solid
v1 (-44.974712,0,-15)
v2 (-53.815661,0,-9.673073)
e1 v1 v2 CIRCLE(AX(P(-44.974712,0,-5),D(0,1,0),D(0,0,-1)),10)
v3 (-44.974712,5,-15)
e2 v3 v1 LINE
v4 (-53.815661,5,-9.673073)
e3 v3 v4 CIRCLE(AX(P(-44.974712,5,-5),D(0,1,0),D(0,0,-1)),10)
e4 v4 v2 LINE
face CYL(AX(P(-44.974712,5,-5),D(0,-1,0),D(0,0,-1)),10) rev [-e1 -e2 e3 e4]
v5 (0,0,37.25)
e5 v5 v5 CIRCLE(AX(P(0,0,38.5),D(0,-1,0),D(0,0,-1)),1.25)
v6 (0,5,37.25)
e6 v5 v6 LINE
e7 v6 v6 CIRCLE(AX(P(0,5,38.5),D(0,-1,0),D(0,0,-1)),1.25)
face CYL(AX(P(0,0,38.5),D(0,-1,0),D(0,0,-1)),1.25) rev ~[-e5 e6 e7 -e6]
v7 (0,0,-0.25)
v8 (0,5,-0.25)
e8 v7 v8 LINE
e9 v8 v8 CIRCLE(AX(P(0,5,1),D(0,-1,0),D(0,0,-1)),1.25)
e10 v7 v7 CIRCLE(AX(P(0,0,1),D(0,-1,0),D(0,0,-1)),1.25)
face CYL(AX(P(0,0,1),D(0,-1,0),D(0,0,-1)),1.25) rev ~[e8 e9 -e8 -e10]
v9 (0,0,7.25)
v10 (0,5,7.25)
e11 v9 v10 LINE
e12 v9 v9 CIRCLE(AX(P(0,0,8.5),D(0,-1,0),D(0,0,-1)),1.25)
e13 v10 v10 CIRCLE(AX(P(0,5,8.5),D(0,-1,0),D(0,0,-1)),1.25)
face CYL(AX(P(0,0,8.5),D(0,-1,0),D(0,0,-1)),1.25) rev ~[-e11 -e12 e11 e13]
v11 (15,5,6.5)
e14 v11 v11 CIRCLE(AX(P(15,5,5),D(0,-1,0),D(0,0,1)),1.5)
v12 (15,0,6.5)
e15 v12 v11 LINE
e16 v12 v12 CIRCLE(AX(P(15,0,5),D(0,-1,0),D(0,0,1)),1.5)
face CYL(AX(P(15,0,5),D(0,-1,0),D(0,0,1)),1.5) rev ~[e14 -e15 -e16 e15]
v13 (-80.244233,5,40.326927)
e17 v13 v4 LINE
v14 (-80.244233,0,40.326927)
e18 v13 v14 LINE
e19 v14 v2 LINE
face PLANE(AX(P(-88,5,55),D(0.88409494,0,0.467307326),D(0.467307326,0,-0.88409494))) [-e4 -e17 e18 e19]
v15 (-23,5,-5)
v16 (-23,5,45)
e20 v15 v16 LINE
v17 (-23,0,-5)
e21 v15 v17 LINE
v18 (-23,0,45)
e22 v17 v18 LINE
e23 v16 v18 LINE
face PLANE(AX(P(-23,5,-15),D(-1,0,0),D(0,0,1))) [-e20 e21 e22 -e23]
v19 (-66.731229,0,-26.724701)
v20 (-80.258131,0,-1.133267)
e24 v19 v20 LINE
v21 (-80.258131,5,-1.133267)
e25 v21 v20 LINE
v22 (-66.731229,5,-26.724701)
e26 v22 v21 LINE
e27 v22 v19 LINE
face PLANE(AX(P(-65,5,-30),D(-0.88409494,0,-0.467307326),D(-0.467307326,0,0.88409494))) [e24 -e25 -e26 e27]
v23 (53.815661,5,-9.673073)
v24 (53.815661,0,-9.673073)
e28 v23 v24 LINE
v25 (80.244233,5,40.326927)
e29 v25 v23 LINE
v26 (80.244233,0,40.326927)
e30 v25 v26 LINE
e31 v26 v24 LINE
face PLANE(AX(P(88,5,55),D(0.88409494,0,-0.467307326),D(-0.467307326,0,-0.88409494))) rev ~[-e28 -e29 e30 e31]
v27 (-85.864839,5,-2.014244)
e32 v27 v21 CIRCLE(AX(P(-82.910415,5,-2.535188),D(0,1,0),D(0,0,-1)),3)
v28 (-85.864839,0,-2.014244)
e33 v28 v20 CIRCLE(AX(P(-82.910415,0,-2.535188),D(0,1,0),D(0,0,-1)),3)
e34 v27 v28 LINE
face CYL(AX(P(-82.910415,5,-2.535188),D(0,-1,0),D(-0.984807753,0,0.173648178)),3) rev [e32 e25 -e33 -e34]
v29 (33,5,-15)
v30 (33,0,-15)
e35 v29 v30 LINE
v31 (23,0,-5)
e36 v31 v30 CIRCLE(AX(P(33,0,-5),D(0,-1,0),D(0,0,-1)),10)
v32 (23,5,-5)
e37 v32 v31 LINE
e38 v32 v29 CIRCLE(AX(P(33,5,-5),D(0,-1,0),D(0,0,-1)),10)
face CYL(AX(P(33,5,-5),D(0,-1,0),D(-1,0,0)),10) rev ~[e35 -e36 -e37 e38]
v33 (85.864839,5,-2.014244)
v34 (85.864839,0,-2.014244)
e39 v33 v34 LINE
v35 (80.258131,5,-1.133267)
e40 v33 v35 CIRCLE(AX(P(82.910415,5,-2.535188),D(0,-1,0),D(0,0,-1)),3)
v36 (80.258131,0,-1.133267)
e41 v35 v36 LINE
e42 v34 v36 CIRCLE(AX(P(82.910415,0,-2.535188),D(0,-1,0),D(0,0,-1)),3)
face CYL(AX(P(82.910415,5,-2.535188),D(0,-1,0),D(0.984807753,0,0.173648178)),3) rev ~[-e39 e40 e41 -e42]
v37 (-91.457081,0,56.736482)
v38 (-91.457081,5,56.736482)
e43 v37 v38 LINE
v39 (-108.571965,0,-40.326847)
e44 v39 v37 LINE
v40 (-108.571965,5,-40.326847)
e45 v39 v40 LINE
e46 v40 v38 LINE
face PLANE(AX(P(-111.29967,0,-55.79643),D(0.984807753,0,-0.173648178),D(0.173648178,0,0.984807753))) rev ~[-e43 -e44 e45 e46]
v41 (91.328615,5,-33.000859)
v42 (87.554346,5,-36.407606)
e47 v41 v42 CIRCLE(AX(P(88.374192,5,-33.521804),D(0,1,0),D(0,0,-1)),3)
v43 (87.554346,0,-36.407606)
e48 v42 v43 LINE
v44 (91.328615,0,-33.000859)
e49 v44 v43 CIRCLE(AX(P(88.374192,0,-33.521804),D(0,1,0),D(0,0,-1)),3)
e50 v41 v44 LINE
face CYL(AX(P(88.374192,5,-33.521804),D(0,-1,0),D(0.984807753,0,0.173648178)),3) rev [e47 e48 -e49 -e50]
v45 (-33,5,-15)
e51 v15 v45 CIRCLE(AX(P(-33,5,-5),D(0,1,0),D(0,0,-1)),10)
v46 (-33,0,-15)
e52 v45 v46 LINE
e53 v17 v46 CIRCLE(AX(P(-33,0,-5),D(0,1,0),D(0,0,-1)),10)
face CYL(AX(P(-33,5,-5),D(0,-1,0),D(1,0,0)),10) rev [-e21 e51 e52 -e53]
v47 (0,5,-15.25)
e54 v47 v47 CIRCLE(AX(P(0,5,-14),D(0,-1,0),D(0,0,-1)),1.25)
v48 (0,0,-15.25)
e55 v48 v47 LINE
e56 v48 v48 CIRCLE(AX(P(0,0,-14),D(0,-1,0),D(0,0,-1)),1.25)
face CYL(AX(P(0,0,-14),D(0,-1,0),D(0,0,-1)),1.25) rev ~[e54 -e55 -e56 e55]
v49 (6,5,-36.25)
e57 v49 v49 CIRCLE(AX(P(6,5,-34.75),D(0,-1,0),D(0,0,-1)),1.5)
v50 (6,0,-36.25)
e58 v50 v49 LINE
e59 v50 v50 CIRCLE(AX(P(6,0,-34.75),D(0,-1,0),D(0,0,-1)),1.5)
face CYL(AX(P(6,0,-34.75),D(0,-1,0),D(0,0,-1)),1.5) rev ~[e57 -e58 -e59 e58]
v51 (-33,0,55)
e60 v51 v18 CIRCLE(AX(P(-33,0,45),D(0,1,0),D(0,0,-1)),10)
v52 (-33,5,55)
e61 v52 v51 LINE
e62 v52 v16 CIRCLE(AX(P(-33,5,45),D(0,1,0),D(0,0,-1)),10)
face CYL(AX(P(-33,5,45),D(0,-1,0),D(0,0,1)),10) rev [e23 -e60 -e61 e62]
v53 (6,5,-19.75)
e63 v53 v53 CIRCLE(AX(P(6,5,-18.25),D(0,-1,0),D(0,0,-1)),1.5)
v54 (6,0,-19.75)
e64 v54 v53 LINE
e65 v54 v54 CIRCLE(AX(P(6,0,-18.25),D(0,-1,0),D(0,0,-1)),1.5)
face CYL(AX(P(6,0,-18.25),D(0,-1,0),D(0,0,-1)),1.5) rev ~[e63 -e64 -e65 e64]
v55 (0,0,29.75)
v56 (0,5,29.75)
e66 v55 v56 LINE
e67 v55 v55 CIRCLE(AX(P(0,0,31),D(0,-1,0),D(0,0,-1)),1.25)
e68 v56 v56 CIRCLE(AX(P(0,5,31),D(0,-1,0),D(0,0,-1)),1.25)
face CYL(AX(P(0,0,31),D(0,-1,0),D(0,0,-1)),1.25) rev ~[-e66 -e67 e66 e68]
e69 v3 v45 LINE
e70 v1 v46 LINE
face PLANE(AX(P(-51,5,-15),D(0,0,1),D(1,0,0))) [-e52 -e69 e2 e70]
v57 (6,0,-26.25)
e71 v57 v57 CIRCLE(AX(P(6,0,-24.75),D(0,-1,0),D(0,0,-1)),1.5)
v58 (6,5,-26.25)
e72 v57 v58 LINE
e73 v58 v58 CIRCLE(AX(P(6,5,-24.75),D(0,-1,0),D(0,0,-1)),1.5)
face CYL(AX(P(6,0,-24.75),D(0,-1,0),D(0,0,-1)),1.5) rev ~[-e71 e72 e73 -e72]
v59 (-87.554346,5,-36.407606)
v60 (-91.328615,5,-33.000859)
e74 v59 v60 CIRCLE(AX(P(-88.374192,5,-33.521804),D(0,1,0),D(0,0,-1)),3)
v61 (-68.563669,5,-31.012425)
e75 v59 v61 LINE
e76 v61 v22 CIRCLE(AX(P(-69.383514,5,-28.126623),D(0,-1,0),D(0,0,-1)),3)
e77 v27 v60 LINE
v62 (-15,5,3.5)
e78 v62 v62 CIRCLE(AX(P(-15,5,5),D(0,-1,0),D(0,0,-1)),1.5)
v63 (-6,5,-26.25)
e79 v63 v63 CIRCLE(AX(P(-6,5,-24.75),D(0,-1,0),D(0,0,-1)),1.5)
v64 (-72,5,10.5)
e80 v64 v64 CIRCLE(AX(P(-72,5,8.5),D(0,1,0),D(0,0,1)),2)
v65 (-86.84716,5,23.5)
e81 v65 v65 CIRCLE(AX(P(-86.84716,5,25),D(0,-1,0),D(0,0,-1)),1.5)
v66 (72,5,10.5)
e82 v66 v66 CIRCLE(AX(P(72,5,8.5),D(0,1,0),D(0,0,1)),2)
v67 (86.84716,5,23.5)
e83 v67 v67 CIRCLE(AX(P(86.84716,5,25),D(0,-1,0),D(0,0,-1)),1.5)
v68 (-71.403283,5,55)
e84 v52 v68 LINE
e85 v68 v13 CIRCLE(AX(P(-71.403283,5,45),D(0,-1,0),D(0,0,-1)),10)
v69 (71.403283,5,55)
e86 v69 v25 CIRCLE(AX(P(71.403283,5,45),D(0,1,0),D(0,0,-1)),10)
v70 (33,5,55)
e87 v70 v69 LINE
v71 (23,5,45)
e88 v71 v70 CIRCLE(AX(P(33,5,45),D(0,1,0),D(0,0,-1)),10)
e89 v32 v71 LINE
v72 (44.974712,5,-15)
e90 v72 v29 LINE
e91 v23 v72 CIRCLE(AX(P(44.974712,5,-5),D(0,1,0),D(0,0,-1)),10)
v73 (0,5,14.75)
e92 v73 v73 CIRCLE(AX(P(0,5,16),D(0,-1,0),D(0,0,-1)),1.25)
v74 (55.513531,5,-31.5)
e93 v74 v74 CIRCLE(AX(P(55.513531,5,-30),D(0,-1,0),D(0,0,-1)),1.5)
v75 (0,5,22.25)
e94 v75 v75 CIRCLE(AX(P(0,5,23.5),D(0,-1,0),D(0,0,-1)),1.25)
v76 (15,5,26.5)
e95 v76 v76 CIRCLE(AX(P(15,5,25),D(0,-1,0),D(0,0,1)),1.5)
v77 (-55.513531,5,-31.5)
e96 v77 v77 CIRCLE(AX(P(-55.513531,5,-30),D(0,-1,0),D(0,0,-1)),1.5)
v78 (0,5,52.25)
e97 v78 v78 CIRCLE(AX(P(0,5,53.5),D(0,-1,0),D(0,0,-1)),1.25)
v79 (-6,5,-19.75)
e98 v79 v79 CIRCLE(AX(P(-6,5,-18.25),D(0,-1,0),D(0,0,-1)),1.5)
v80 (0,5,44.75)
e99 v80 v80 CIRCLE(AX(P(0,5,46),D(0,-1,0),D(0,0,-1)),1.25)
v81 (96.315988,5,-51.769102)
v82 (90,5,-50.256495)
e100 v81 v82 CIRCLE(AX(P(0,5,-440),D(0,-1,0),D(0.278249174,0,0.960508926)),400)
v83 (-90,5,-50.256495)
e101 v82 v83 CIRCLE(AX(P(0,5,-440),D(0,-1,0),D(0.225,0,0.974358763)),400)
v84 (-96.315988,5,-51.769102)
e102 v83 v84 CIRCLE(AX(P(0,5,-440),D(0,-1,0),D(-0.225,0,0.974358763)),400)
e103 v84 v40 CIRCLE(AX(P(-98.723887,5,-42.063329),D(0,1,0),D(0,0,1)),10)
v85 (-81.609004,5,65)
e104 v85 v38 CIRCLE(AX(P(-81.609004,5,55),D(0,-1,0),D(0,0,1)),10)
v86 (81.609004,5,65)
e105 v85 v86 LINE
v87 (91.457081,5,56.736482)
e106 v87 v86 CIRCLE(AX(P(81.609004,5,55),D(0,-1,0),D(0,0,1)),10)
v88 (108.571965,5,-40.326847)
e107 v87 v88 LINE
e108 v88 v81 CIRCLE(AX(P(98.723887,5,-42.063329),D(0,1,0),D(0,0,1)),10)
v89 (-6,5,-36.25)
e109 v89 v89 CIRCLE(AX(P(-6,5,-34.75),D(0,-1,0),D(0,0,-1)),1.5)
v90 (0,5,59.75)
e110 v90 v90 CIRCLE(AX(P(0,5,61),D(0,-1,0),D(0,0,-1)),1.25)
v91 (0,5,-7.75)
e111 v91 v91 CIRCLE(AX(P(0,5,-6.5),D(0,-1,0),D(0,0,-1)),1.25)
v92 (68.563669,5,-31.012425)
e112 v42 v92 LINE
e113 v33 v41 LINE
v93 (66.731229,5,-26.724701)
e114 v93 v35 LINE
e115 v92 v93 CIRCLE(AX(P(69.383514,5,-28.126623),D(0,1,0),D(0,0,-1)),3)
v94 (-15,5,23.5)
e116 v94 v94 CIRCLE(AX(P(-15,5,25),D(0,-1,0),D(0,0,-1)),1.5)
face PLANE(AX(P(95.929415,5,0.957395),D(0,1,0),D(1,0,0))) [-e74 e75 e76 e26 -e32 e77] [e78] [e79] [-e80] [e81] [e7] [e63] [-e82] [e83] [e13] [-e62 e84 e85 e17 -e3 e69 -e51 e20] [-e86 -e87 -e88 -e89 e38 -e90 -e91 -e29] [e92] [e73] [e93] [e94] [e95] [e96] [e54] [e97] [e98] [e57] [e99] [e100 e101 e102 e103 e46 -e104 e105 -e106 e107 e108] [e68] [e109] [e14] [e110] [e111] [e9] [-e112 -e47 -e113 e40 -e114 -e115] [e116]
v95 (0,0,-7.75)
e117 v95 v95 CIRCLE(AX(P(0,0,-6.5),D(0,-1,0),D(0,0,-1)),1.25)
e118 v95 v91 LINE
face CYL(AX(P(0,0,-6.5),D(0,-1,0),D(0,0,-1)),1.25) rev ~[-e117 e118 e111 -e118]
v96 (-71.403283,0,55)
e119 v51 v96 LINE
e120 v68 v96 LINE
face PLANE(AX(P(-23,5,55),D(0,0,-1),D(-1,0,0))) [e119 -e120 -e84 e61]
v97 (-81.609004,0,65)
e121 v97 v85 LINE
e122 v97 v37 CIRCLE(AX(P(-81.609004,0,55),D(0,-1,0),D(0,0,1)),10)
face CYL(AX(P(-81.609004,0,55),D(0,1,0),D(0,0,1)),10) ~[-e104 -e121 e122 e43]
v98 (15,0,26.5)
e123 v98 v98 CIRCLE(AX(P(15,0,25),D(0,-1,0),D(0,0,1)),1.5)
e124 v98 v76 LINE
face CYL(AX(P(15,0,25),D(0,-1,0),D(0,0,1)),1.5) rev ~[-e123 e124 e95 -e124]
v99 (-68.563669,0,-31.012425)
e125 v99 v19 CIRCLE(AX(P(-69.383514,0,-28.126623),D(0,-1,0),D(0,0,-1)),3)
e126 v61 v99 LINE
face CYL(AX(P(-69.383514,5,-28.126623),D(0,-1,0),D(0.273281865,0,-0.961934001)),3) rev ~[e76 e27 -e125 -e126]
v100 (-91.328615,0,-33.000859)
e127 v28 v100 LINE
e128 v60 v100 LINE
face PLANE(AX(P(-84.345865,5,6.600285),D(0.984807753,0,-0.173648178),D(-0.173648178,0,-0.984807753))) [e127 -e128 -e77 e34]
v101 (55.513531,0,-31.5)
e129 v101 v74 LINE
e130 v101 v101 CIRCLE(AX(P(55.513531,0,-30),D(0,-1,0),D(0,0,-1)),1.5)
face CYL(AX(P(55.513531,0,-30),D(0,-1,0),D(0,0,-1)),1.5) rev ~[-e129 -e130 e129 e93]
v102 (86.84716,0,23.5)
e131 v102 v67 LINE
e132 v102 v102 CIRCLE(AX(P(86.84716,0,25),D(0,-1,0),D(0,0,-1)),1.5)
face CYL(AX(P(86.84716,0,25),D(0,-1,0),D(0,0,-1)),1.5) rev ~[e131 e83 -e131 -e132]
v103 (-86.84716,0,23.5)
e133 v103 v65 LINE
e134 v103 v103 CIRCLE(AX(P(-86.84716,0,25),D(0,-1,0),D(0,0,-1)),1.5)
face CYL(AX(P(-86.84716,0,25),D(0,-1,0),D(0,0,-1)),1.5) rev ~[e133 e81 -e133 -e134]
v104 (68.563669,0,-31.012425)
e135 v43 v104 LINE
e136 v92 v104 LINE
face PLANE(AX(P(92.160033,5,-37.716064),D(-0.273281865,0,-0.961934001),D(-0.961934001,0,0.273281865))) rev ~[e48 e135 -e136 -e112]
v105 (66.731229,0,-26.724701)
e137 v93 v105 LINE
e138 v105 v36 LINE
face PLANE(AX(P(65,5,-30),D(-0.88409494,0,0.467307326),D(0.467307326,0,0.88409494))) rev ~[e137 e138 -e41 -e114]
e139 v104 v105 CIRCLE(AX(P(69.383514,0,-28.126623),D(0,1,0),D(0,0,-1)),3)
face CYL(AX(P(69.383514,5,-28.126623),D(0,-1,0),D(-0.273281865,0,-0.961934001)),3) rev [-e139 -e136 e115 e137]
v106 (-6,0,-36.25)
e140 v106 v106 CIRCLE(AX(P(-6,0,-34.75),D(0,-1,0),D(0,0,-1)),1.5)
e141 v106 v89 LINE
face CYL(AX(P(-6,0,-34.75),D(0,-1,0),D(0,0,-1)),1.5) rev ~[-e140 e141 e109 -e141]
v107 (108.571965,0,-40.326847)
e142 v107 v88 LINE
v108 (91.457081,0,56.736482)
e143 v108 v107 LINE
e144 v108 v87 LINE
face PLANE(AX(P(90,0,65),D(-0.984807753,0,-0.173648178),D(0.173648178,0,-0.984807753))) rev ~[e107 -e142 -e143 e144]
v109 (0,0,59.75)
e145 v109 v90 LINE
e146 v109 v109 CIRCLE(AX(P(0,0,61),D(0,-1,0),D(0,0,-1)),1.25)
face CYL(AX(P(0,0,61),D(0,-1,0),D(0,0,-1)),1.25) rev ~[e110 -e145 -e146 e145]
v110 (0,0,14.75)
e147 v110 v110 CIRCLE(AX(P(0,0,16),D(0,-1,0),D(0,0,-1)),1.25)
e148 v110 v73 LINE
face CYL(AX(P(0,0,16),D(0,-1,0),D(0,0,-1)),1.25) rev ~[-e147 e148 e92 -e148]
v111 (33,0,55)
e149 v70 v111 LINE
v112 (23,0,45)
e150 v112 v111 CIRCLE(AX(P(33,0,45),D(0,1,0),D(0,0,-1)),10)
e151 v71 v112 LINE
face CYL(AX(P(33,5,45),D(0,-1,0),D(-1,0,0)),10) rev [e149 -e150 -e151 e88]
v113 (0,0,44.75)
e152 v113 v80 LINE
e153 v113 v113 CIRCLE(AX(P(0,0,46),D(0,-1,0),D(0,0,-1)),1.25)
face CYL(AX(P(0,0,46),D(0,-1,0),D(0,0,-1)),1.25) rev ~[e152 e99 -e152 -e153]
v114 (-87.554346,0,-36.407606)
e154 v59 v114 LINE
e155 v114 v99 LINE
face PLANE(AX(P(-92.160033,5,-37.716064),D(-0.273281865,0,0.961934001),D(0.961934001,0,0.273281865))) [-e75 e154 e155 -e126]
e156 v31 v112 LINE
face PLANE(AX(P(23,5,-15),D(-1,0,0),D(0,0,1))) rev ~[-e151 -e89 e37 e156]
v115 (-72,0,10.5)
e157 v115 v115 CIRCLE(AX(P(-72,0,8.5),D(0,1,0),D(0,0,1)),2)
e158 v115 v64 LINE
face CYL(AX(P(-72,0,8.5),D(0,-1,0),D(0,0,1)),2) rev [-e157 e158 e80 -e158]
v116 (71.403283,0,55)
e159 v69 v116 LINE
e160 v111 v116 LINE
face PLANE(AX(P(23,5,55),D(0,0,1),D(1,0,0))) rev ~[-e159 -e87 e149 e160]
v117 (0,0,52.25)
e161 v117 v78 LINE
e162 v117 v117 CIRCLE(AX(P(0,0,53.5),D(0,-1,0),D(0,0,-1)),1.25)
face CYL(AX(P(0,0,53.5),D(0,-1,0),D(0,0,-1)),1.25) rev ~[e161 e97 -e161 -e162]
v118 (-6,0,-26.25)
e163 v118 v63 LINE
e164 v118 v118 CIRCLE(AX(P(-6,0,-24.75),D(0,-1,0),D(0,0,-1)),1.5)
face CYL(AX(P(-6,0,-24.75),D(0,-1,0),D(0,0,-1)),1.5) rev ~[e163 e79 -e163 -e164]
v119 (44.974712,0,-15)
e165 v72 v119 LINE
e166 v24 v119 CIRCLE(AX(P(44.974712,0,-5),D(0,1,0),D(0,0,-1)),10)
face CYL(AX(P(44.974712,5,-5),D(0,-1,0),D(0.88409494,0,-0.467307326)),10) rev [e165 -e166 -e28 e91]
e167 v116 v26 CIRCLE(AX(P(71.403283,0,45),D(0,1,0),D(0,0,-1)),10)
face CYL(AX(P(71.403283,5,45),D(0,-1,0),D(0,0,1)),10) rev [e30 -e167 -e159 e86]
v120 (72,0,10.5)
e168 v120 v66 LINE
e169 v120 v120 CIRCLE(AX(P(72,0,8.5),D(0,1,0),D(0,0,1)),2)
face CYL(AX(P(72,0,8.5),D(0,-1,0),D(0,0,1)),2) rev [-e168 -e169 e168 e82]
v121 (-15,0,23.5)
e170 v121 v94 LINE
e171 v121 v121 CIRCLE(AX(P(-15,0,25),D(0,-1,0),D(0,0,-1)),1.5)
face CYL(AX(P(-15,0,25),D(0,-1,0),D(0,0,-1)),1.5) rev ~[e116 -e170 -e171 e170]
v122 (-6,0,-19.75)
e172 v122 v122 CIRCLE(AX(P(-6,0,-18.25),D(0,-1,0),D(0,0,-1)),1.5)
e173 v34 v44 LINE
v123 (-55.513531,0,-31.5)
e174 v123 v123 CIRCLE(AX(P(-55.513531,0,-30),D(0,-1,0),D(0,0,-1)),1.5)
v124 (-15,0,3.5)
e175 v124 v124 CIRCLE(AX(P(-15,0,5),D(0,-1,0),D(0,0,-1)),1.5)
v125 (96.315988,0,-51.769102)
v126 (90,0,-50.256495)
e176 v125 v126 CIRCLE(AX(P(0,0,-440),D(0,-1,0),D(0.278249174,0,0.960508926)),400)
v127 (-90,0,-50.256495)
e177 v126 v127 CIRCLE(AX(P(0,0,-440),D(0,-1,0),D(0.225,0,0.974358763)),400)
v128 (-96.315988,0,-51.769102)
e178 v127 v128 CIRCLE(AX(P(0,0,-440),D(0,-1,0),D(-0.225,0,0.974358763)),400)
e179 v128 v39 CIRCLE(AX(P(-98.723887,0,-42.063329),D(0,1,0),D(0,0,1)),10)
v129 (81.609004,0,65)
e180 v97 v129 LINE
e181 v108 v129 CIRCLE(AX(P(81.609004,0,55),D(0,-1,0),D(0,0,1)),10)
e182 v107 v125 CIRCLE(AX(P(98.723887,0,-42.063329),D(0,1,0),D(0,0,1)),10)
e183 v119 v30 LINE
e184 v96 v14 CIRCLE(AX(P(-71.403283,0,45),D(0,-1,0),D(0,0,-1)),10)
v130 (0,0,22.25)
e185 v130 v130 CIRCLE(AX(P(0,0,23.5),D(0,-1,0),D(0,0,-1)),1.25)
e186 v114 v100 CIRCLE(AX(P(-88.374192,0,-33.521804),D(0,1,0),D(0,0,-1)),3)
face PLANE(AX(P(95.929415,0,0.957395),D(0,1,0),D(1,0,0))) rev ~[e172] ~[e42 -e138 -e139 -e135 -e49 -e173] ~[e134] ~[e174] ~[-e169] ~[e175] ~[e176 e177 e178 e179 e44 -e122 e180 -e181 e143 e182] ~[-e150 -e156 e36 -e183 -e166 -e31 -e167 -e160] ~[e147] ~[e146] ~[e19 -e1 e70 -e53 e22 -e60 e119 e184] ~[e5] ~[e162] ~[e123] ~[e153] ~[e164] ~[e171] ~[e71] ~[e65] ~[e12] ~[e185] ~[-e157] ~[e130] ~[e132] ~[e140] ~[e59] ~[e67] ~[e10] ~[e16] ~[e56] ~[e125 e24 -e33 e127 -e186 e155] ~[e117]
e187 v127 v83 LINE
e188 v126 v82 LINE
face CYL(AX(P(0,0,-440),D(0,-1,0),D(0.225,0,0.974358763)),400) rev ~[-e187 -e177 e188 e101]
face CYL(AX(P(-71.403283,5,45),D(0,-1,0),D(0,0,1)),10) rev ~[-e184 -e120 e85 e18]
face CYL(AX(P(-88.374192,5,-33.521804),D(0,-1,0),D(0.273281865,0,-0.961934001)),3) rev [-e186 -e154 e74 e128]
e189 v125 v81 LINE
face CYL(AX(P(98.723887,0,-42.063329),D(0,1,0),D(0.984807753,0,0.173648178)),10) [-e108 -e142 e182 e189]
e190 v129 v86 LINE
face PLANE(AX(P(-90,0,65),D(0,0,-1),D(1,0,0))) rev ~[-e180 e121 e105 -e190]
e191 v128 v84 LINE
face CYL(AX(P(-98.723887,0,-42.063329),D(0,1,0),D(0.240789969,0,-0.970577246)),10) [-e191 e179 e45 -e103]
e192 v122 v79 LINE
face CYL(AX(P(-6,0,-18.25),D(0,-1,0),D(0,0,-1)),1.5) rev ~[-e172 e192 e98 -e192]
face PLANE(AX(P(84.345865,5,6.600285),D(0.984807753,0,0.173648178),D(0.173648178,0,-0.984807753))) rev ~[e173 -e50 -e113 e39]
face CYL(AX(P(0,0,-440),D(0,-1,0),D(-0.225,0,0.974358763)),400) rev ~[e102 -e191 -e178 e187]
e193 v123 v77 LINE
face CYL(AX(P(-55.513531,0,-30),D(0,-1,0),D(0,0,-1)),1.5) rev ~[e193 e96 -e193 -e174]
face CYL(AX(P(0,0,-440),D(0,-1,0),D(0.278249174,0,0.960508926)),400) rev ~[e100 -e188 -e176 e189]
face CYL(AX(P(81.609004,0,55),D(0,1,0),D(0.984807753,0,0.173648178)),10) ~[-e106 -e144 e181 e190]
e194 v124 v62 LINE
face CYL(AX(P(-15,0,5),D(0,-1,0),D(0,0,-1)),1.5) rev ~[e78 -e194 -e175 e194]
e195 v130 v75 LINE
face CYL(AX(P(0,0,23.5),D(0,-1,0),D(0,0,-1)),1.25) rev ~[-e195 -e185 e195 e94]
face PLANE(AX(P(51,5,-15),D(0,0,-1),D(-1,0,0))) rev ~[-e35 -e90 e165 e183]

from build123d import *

# Parameters (mm, degrees)
SKETCH_1_R          = 2
EXTRUDE_1_DEPTH     = 5
SKETCH_2_R          = 1.5
CUT_EXTRUDE_1_DEPTH = 129.986884904
CUT_EXTRUDE_2_DEPTH = 3
CUT_EXTRUDE_3_DEPTH = 3
CUT_EXTRUDE_4_DEPTH = 129.986884904
FILLET_1_R          = 10
FILLET_2_R          = 10
FILLET_3_R          = 10
CUT_EXTRUDE_6_DEPTH = 127.770989194
FILLET_4_R          = 3
SKETCH_8_R          = 1.5
CUT_EXTRUDE_7_DEPTH = 127.770989194
SKETCH_9_R          = 1.25
CUT_EXTRUDE_8_DEPTH = 127.770989194
SKETCH_10_R         = 1.5
CUT_EXTRUDE_9_DEPTH = 127.770989194


with BuildPart() as part:
    # 草图1 → 凸台-拉伸1 (new body)
    # profile 1 of 3: a face of its own
    with BuildSketch(Plane(origin=(0, 0, 0), x_dir=(1, 0, 0), z_dir=(0, 1, 0))):
        with BuildLine():
            ThreePointArc((90, 50.256494602), (0, 40), (-90, 50.256494602))
            Line((-90, 50.256494602), (-90, -65))
            Line((-90, -65), (90, -65))
            Line((90, -65), (90, 50.256494602))
        make_face()
        with Locations(Location((-72, -8.5, 0), (0, 0, 270))):
            Circle(SKETCH_1_R, mode=Mode.SUBTRACT)
        with Locations(Location((72, -8.5, 0), (0, 0, 270))):
            Circle(SKETCH_1_R, mode=Mode.SUBTRACT)
    # profile 2 of 3: a face of its own
    with BuildSketch(Plane(origin=(0, 0, 0), x_dir=(1, 0, 0), z_dir=(0, 1, 0))):
        with BuildLine():
            Line((-90, -65), (-90, 50.256494602))
            ThreePointArc((-90, 50.256494602), (-100.687943549, 52.879943656), (-111.299669708, 55.796429581))
            Line((-111.299669708, 55.796429581), (-90, -65))
        make_face()
    # profile 3 of 3: a face of its own
    with BuildSketch(Plane(origin=(0, 0, 0), x_dir=(1, 0, 0), z_dir=(0, 1, 0))):
        with BuildLine():
            ThreePointArc((111.299669708, 55.796429581), (100.687943549, 52.879943656), (90, 50.256494602))
            Line((90, 50.256494602), (90, -65))
            Line((90, -65), (111.299669708, 55.796429581))
        make_face()
    extrude(amount=EXTRUDE_1_DEPTH)

    # 草图2 → 切除-拉伸1 (cut, through all)
    with BuildSketch(Plane(origin=(0, 0, 0), x_dir=(-1, 0, 0), z_dir=(0, -1, 0))):
        with Locations(Location((6, 18.25, 0), (0, 0, 90))):
            Circle(SKETCH_2_R)
        with Locations(Location((-6, 18.25, 0), (0, 0, 90))):
            Circle(SKETCH_2_R)
        with Locations(Location((6, 24.75, 0), (0, 0, 90))):
            Circle(SKETCH_2_R)
        with Locations(Location((-6, 24.75, 0), (0, 0, 90))):
            Circle(SKETCH_2_R)
        with Locations(Location((-6, 34.75, 0), (0, 0, 90))):
            Circle(SKETCH_2_R)
        with Locations(Location((6, 34.75, 0), (0, 0, 90))):
            Circle(SKETCH_2_R)
    extrude(amount=-CUT_EXTRUDE_1_DEPTH, mode=Mode.SUBTRACT)

    # 草图3 → 切除-拉伸2 (cut)
    with BuildSketch(Plane(origin=(0, 5, 0), x_dir=(1, 0, 0), z_dir=(0, 1, 0))):
        with BuildLine():
            ThreePointArc((-45, -46.5), (-40, -41.5), (-35, -46.5))
            Line((-35, -46.5), (-35, 8.5))
            ThreePointArc((-35, 8.5), (-40, 3.5), (-45, 8.5))
            Line((-45, 8.5), (-45, -46.5))
        make_face()
        with BuildLine():
            ThreePointArc((-45, 8.5), (-40, 3.5), (-35, 8.5))
            Line((-35, 8.5), (-45, 8.5))
        make_face()
        with BuildLine():
            Line((-45, 8.5), (-35, 8.5))
            ThreePointArc((-35, 8.5), (-40, 13.5), (-45, 8.5))
        make_face()
        with BuildLine():
            ThreePointArc((-45, -46.5), (-40, -51.5), (-35, -46.5))
            Line((-35, -46.5), (-45, -46.5))
        make_face()
        with BuildLine():
            Line((-45, -46.5), (-35, -46.5))
            ThreePointArc((-35, -46.5), (-40, -41.5), (-45, -46.5))
        make_face()
        with BuildLine():
            ThreePointArc((45, 8.5), (40, 3.5), (35, 8.5))
            Line((35, 8.5), (35, -46.5))
            ThreePointArc((35, -46.5), (40, -41.5), (45, -46.5))
            Line((45, -46.5), (45, 8.5))
        make_face()
        with BuildLine():
            ThreePointArc((45, -46.5), (40, -41.5), (35, -46.5))
            Line((35, -46.5), (45, -46.5))
        make_face()
        with BuildLine():
            Line((45, -46.5), (35, -46.5))
            ThreePointArc((35, -46.5), (40, -51.5), (45, -46.5))
        make_face()
        with BuildLine():
            ThreePointArc((45, 8.5), (40, 13.5), (35, 8.5))
            Line((35, 8.5), (45, 8.5))
        make_face()
        with BuildLine():
            Line((45, 8.5), (35, 8.5))
            ThreePointArc((35, 8.5), (40, 3.5), (45, 8.5))
        make_face()
    extrude(amount=-CUT_EXTRUDE_2_DEPTH, mode=Mode.SUBTRACT)

    # 草图4 → 切除-拉伸3 (cut)
    with BuildSketch(Plane(origin=(0, 5, 0), x_dir=(1, 0, 0), z_dir=(0, 1, 0))):
        with BuildLine():
            Line((45, -41.966401061), (45, -27.473665961))
            ThreePointArc((45, -27.473665961), (39.285969894, -12.835001066), (40.990143514, 2.78666473))
            Line((40.990143514, 2.78666473), (35, 4.966898668))
            Line((35, 4.966898668), (35, -30.4089023))
            ThreePointArc((35, -30.4089023), (39.482405618, -36.635494586), (45, -41.966401061))
        make_face()
        with BuildLine():
            Line((35, 4.966898668), (31.593217306, 6.206866163))
            ThreePointArc((31.593217306, 6.206866163), (29.1849194, -12.483575431), (35, -30.4089023))
            Line((35, -30.4089023), (35, 4.966898668))
        make_face()
        with BuildLine():
            Line((72, -51.5), (72, -41.5))
            ThreePointArc((72, -41.5), (56.787028178, -37.784219101), (45, -27.473665961))
            Line((45, -27.473665961), (45, -41.966401061))
            ThreePointArc((45, -41.966401061), (57.6831436, -49.046610497), (72, -51.5))
        make_face()
    extrude(amount=-CUT_EXTRUDE_3_DEPTH, mode=Mode.SUBTRACT)

    # 草图5 → 切除-拉伸4 (cut, through all)
    with BuildSketch(Plane(origin=(0, 5, 0), x_dir=(1, 0, 0), z_dir=(0, 1, 0))):
        Polygon((23, 15), (23, -55), (88, -55), (51, 15), align=None)
        Polygon((-88, -55), (-51, 15), (-23, 15), (-23, -55), align=None)
    extrude(amount=-CUT_EXTRUDE_4_DEPTH, mode=Mode.SUBTRACT)

    # 圆角1
    fillet_1_edges = [part.edges().sort_by_distance(p)[0] for p in [
        (23, 2.5, -15),
        (51, 2.5, -15),
        (88, 2.5, 55),
        (23, 2.5, 55),
        (-23, 2.5, 55),
        (-88, 2.5, 55),
        (-51, 2.5, -15),
        (-23, 2.5, -15),
    ]]
    fillet(fillet_1_edges, radius=FILLET_1_R)

    # 圆角2
    fillet_2_edges = [part.edges().sort_by_distance(p)[0] for p in [
        (90, 2.5, 65),
        (-90, 2.5, 65),
    ]]
    fillet(fillet_2_edges, radius=FILLET_2_R)

    # 圆角3
    fillet_3_edges = [part.edges().sort_by_distance(p)[0] for p in [
        (111.299669708, 2.5, -55.796429581),
        (-111.299669708, 2.5, -55.796429581),
    ]]
    fillet(fillet_3_edges, radius=FILLET_3_R)

    # 草图7 → 切除-拉伸6 (cut, through all)
    with BuildSketch(Plane(origin=(0, 5, 0), x_dir=(1, 0, 0), z_dir=(0, 1, 0))):
        Polygon((-65, 30), (-84.345864805, -6.600284766), (-92.1600328, 37.716064119), align=None)
        Polygon((84.345864805, -6.600284766), (92.1600328, 37.716064119), (65, 30), align=None)
    extrude(amount=-CUT_EXTRUDE_6_DEPTH, mode=Mode.SUBTRACT)

    # 圆角4
    fillet_4_edges = [part.edges().sort_by_distance(p)[0] for p in [
        (-92.1600328, 2.5, -37.716064119),
        (-65, 2.5, -30),
        (-84.345864805, 2.5, 6.600284766),
        (84.345864805, 2.5, 6.600284766),
        (65, 2.5, -30),
        (92.1600328, 2.5, -37.716064119),
    ]]
    fillet(fillet_4_edges, radius=FILLET_4_R)

    # 草图8 → 切除-拉伸7 (cut, through all)
    with BuildSketch(Plane(origin=(0, 0, 0), x_dir=(-1, 0, 0), z_dir=(0, -1, 0))):
        with Locations(Location((-55.513531222, 30, 0), (0, 0, 90))):
            Circle(SKETCH_8_R)
        with Locations(Location((-86.847160275, -25, 0), (0, 0, 90))):
            Circle(SKETCH_8_R)
        with Locations(Location((55.513531222, 30, 0), (0, 0, 90))):
            Circle(SKETCH_8_R)
        with Locations(Location((86.847160275, -25, 0), (0, 0, 90))):
            Circle(SKETCH_8_R)
    extrude(amount=-CUT_EXTRUDE_7_DEPTH, mode=Mode.SUBTRACT)

    # 草图9 → 切除-拉伸8 (cut, through all)
    with BuildSketch(Plane.XZ):
        with Locations(Location((0, -14, 0), (0, 0, 270))):
            Circle(SKETCH_9_R)
        with Locations(Location((0, -6.5, 0), (0, 0, 270))):
            Circle(SKETCH_9_R)
        with Locations(Location((0, 1, 0), (0, 0, 270))):
            Circle(SKETCH_9_R)
        with Locations(Location((0, 8.5, 0), (0, 0, 270))):
            Circle(SKETCH_9_R)
        with Locations(Location((0, 16, 0), (0, 0, 270))):
            Circle(SKETCH_9_R)
        with Locations(Location((0, 23.5, 0), (0, 0, 270))):
            Circle(SKETCH_9_R)
        with Locations(Location((0, 31, 0), (0, 0, 270))):
            Circle(SKETCH_9_R)
        with Locations(Location((0, 38.5, 0), (0, 0, 270))):
            Circle(SKETCH_9_R)
        with Locations(Location((0, 46, 0), (0, 0, 270))):
            Circle(SKETCH_9_R)
        with Locations(Location((0, 53.5, 0), (0, 0, 270))):
            Circle(SKETCH_9_R)
        with Locations(Location((0, 61, 0), (0, 0, 270))):
            Circle(SKETCH_9_R)
    extrude(amount=-CUT_EXTRUDE_8_DEPTH, mode=Mode.SUBTRACT)

    # 草图10 → 切除-拉伸9 (cut, through all)
    with BuildSketch(Plane.XZ):
        with Locations(Location((-15, 25, 0), (0, 0, 270))):
            Circle(SKETCH_10_R)
        with Locations(Location((-15, 5, 0), (0, 0, 270))):
            Circle(SKETCH_10_R)
        with Locations(Location((15, 5, 0), (0, 0, 90))):
            Circle(SKETCH_10_R)
        with Locations(Location((15, 25, 0), (0, 0, 90))):
            Circle(SKETCH_10_R)
    extrude(amount=-CUT_EXTRUDE_9_DEPTH, mode=Mode.SUBTRACT)


solid = part.part
